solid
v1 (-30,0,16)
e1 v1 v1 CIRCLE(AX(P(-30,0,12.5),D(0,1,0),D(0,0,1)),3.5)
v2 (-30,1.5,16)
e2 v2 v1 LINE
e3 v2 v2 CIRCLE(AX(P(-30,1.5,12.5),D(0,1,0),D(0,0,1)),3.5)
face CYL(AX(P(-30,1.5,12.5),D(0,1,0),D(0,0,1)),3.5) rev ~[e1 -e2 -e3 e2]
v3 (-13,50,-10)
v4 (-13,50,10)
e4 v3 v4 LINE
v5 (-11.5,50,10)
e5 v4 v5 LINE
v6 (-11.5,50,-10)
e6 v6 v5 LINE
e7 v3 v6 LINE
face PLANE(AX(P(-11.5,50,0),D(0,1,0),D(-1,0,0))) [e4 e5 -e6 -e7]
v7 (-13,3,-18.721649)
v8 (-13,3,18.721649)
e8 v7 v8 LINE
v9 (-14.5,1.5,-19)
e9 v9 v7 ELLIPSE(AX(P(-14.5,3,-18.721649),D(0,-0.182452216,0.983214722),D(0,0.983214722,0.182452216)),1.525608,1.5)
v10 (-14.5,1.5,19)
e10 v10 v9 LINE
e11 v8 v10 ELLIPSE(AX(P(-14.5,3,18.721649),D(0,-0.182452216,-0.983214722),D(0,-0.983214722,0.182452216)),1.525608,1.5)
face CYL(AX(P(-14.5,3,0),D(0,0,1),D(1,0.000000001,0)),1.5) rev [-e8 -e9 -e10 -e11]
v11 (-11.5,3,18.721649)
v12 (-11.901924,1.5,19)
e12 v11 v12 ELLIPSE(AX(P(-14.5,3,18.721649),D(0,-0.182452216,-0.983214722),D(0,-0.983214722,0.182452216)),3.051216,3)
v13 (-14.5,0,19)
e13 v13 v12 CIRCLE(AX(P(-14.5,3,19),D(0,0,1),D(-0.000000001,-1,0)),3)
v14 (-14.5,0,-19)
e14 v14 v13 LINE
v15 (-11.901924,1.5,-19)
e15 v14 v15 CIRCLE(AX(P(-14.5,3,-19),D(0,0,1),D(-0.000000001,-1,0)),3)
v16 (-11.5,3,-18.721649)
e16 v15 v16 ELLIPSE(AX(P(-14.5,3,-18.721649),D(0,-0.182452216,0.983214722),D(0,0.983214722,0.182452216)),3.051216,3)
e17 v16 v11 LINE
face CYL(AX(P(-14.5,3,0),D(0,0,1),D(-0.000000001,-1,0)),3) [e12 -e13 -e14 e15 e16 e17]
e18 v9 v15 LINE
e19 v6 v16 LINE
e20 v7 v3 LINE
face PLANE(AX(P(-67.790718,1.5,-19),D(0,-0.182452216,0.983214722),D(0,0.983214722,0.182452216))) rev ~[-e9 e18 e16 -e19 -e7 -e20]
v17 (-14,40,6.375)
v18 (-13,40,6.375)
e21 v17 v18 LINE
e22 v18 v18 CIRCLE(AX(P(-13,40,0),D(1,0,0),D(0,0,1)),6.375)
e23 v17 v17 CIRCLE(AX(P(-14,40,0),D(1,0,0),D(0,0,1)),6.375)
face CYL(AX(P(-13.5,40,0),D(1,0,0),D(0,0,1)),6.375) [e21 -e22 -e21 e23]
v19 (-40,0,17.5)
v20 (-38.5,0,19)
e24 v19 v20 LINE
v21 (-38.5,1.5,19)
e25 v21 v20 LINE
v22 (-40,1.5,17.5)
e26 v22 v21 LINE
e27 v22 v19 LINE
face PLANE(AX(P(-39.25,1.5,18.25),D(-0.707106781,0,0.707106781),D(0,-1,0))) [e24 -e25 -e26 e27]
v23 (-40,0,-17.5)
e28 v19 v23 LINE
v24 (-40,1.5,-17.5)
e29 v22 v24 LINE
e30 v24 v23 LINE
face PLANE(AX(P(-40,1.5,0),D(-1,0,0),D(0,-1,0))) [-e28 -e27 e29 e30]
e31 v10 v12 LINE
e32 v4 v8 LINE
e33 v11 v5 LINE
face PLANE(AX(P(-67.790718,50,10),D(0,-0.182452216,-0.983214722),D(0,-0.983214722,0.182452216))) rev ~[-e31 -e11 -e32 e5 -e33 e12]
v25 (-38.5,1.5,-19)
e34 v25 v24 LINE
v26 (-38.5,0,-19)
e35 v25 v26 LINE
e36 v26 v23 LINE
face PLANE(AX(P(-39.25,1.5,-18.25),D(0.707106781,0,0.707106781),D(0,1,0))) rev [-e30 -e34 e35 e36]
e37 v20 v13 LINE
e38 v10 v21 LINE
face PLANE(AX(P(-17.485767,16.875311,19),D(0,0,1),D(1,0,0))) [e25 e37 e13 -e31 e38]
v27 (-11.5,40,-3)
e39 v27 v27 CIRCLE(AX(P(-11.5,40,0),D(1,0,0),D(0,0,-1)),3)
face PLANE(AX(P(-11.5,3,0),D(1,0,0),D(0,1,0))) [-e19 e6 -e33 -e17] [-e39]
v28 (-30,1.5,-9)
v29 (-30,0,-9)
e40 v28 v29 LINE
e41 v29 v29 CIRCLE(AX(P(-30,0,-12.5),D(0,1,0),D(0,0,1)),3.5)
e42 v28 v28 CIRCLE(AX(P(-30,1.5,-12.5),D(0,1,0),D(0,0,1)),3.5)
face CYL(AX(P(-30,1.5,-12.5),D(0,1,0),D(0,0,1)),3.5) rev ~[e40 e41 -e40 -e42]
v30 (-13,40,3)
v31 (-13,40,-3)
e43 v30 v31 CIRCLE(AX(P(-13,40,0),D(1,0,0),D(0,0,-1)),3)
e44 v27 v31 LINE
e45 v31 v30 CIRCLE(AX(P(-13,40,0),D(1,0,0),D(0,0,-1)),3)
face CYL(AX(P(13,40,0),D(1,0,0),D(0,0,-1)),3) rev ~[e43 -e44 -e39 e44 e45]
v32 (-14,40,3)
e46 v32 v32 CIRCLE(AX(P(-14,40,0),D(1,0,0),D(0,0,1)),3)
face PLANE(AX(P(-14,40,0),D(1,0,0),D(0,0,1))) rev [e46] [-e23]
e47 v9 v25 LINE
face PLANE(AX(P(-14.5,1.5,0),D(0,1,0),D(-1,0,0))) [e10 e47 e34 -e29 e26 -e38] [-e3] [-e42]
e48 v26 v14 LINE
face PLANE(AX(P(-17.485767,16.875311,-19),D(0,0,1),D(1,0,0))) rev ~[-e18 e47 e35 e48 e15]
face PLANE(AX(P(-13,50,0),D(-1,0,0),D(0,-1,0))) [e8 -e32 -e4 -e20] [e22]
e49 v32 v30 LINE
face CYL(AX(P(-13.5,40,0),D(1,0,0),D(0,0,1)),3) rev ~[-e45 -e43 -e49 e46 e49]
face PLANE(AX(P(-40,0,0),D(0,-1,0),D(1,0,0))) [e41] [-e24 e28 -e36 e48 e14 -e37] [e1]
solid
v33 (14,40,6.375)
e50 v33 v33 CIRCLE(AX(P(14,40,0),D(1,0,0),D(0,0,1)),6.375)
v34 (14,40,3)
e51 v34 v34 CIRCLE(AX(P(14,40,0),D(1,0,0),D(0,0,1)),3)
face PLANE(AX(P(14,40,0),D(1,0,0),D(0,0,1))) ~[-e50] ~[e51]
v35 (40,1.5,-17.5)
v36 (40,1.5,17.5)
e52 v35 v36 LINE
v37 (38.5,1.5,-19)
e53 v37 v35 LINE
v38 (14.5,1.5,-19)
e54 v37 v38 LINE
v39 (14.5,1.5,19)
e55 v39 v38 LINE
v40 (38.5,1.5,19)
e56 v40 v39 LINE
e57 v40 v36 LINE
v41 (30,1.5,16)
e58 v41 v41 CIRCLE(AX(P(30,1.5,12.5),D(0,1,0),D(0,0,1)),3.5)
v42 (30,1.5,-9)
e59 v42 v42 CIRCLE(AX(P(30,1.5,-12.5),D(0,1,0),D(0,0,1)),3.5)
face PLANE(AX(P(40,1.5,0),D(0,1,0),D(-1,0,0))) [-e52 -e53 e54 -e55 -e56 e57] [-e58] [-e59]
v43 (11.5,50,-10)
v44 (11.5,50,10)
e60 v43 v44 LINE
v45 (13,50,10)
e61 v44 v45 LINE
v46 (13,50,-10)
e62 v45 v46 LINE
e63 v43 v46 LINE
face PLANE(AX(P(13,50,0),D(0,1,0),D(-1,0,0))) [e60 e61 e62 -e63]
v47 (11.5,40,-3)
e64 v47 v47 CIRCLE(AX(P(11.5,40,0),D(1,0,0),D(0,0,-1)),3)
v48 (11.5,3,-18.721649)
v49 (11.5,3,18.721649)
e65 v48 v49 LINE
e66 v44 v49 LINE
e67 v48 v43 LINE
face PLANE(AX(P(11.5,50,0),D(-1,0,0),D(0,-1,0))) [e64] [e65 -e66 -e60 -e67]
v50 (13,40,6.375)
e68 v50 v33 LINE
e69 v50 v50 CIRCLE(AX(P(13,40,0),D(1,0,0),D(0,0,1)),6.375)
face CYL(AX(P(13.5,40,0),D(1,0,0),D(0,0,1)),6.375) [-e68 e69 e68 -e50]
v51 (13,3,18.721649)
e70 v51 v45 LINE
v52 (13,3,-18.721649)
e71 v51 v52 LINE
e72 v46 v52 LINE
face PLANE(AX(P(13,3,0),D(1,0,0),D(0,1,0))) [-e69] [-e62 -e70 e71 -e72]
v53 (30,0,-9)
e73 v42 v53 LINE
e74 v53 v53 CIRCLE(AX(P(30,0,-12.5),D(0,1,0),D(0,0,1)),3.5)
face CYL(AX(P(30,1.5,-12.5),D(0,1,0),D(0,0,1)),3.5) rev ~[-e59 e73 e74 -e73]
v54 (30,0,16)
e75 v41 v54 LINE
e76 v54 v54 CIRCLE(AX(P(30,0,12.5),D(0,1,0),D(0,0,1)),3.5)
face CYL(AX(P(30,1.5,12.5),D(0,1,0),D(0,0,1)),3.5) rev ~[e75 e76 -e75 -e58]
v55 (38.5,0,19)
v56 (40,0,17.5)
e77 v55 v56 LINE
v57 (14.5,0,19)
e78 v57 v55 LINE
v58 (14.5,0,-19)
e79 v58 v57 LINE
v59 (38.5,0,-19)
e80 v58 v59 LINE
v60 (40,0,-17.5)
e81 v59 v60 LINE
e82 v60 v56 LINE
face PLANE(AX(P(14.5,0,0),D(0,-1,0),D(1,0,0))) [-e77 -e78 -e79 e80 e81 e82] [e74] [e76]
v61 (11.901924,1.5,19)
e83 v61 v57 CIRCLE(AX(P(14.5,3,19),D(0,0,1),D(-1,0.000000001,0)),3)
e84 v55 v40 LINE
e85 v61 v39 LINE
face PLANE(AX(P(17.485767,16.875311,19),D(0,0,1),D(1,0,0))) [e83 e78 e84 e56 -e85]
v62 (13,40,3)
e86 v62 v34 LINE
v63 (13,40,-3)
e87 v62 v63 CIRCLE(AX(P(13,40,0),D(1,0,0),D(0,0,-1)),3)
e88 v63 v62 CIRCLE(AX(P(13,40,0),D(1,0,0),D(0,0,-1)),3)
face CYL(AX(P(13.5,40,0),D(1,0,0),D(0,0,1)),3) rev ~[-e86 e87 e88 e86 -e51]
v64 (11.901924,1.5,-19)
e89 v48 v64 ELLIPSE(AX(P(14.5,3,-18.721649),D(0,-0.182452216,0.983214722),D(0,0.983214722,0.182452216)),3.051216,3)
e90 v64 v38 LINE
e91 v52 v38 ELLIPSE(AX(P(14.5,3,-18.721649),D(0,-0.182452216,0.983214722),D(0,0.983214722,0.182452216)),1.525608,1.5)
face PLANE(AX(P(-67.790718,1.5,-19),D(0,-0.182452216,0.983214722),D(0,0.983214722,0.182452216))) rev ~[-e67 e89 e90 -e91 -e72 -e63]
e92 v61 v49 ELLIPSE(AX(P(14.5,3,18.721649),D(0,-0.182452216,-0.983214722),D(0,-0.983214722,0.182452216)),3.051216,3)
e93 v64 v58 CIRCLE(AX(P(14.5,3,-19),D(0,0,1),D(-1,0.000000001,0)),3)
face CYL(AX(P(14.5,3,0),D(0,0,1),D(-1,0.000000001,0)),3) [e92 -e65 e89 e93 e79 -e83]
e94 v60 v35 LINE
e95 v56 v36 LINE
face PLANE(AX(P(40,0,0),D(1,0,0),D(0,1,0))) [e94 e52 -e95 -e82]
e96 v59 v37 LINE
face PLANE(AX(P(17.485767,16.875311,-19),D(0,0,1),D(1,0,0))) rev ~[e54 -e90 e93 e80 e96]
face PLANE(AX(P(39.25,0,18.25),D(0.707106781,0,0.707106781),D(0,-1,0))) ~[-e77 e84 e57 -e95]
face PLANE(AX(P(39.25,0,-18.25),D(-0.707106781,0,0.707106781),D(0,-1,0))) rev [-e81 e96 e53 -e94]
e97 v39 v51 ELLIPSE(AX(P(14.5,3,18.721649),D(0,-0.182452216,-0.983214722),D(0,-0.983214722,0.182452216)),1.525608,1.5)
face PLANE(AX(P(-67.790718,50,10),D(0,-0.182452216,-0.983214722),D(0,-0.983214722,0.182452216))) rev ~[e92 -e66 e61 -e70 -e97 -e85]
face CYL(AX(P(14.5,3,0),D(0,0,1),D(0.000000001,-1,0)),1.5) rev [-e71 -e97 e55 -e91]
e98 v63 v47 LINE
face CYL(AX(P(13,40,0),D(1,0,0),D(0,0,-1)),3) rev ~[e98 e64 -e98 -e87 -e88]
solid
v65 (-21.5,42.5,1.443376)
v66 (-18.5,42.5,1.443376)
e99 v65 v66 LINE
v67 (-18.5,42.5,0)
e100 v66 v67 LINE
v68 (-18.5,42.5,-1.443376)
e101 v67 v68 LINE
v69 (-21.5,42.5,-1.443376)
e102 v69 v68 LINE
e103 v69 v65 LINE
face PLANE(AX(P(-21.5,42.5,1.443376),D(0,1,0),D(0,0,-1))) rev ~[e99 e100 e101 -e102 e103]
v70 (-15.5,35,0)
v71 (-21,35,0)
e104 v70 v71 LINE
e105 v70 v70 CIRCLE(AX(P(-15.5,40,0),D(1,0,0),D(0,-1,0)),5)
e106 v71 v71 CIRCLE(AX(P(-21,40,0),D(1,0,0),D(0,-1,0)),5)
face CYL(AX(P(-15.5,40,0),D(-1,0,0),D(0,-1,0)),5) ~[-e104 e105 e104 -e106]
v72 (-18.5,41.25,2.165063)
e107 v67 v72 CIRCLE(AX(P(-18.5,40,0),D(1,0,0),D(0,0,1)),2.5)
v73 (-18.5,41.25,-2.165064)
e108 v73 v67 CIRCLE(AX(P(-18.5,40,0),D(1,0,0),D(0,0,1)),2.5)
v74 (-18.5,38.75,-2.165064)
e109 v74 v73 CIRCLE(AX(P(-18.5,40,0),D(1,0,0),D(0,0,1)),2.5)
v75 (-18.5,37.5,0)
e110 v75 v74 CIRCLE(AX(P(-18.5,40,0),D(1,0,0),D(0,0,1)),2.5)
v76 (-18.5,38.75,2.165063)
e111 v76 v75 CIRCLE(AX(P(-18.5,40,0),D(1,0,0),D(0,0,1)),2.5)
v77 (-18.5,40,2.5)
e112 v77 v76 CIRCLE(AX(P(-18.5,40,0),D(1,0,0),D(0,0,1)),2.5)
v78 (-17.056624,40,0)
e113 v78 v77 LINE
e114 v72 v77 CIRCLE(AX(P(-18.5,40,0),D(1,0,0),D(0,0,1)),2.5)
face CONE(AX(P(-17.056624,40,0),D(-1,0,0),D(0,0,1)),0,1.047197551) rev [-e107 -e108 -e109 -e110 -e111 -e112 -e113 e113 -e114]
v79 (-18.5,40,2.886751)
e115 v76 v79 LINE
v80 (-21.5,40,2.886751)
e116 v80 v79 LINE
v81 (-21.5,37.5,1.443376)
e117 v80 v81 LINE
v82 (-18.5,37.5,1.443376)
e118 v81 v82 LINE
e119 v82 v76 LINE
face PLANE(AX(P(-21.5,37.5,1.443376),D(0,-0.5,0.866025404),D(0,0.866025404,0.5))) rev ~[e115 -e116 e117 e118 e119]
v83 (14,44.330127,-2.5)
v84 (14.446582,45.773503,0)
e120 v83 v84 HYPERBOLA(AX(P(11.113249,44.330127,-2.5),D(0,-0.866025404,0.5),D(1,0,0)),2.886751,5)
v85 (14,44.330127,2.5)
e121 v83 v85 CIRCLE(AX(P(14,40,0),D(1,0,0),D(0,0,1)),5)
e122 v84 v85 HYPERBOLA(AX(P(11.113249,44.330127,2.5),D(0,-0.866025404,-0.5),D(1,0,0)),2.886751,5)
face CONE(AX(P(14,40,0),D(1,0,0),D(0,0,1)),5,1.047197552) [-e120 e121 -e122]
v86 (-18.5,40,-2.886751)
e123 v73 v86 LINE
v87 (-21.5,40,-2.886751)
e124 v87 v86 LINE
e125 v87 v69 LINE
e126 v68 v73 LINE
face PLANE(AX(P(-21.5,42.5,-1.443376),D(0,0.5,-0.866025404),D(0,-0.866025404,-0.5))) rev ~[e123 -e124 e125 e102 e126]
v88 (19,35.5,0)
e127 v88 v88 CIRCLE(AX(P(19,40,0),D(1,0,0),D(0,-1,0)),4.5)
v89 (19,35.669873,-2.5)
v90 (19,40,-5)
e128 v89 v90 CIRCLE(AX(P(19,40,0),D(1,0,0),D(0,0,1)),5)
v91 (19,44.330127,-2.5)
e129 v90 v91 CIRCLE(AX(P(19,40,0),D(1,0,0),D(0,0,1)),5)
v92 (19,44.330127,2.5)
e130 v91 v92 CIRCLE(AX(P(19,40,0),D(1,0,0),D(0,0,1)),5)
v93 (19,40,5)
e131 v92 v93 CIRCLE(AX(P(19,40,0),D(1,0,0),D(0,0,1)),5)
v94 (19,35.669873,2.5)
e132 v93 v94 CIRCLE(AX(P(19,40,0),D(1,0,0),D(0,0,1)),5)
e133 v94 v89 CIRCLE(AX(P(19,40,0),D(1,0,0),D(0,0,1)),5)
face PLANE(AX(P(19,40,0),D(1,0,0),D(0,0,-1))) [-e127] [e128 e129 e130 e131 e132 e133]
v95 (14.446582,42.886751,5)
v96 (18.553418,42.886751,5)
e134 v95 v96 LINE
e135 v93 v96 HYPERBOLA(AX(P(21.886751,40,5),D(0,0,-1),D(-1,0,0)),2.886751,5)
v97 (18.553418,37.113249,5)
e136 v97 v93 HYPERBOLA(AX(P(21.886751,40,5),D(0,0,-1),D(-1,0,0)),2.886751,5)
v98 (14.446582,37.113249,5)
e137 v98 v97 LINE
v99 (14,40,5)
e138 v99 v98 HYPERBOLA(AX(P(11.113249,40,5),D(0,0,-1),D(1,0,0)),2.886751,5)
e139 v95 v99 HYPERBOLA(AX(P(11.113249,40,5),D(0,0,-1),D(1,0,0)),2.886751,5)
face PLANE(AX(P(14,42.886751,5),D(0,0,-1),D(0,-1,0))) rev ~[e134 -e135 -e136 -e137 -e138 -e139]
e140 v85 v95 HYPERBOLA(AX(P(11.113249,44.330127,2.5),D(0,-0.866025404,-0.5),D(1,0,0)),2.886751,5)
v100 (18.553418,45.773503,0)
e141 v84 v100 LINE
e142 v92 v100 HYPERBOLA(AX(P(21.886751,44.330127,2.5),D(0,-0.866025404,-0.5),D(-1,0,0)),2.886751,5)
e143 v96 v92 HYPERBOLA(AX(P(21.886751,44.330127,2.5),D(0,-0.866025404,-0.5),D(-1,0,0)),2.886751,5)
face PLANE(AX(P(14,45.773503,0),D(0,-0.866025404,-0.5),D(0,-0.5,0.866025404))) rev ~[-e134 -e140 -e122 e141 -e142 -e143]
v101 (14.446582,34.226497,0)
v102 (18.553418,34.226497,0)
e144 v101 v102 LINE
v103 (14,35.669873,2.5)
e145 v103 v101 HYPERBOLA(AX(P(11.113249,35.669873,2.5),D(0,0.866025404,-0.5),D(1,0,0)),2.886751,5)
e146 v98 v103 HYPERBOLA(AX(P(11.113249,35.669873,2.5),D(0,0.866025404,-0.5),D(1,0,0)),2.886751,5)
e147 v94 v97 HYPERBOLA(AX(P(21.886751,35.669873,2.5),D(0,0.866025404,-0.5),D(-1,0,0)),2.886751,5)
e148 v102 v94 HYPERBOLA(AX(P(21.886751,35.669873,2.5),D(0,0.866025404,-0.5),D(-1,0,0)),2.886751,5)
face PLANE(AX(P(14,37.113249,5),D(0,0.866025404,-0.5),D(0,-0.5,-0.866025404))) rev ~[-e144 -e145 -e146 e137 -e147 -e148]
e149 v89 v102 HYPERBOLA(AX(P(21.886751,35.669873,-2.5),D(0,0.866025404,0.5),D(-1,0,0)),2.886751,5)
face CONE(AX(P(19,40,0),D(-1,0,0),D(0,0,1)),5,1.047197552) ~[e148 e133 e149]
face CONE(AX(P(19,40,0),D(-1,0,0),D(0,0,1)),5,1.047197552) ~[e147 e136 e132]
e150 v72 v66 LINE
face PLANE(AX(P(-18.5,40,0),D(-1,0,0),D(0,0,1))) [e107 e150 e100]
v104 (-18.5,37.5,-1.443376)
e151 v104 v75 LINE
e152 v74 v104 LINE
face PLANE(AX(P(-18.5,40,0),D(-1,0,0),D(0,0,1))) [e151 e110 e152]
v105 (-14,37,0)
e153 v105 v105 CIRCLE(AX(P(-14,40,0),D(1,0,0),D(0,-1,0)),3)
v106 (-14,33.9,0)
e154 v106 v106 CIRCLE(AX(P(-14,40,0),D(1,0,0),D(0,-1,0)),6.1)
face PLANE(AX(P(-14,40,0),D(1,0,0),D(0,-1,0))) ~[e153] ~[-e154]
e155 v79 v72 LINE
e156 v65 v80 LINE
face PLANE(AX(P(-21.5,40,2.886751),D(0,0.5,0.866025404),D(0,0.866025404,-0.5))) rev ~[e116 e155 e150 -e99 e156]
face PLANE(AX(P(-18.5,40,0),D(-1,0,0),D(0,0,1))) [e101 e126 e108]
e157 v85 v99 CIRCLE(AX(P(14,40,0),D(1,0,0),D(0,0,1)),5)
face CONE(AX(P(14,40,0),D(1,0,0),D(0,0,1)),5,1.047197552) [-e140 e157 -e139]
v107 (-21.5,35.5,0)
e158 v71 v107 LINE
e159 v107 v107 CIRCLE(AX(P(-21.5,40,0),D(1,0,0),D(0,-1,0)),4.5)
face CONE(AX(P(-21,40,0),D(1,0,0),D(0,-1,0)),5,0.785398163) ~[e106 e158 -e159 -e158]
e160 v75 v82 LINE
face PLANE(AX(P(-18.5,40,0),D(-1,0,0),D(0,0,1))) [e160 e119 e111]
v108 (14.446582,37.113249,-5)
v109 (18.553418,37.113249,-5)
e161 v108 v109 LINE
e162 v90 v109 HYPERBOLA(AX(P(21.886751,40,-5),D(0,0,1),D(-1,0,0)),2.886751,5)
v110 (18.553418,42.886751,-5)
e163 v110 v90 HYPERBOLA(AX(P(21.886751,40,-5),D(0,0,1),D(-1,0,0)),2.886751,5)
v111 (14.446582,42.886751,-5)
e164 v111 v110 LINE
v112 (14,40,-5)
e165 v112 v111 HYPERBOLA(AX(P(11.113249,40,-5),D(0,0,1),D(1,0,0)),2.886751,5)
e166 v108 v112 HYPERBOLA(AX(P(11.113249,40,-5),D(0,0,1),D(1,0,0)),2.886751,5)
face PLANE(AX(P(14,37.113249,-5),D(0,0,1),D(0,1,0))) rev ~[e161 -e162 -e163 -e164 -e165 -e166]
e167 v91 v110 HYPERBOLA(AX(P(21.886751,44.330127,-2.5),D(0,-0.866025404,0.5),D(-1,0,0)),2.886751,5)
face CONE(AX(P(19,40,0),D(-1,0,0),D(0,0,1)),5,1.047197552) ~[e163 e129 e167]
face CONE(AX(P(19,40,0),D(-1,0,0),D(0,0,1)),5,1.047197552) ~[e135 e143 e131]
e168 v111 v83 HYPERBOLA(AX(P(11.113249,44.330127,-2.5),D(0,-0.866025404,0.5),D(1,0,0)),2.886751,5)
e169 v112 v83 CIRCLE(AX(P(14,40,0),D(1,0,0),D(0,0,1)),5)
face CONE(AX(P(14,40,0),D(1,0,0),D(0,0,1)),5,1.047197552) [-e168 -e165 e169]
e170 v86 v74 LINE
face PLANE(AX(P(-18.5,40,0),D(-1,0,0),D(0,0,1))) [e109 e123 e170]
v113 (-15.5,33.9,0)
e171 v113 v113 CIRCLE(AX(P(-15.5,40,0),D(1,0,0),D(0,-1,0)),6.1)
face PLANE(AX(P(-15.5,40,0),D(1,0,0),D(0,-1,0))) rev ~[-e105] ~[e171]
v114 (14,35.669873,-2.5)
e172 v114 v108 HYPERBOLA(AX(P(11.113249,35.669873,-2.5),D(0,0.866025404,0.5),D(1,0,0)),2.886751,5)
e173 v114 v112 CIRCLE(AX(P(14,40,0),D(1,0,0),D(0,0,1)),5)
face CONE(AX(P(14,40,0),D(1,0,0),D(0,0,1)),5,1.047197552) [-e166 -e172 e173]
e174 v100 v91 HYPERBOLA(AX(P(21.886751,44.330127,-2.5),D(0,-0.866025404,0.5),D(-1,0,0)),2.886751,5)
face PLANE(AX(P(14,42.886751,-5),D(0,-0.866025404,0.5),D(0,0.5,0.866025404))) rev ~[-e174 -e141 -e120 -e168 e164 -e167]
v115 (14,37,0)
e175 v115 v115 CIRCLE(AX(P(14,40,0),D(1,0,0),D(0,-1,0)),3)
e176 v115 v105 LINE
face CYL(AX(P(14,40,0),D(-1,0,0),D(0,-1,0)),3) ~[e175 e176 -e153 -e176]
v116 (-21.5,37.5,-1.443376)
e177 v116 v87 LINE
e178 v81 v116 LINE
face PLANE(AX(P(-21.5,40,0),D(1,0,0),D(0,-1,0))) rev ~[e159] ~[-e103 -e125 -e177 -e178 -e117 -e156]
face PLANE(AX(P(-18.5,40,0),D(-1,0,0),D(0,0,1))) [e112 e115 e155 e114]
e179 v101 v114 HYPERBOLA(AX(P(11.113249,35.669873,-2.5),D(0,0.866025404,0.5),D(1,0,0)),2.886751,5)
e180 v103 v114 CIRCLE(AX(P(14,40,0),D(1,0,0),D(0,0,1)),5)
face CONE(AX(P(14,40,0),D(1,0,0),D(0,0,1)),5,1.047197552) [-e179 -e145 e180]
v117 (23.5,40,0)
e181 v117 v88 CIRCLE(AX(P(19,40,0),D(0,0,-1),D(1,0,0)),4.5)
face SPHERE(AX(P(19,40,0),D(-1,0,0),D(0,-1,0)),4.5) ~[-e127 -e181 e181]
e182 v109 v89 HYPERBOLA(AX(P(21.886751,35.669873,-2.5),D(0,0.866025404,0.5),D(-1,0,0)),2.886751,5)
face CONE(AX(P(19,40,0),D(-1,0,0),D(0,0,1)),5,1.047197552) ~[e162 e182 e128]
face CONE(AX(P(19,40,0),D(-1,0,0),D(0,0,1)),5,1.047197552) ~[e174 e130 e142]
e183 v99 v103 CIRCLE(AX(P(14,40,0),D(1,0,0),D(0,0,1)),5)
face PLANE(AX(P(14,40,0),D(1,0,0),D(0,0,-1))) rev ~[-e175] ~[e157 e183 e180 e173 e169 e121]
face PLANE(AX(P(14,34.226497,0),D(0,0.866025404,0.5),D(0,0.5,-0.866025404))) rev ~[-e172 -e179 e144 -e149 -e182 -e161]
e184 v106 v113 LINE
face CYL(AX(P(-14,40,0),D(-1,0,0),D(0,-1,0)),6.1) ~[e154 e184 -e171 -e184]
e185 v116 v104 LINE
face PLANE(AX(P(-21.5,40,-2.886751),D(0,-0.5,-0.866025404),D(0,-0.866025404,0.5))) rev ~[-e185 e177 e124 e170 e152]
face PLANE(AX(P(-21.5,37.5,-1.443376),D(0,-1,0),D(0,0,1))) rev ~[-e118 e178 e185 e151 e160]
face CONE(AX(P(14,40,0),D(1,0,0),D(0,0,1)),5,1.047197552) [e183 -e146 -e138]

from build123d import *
from build123d.topology import SkipClean

# Parameters (mm, degrees)
BOSS_EXTRUDE1_DEPTH     = 19
BOSS_EXTRUDE1_2_DEPTH   = 19
CUT_EXTRUDE1_DEPTH      = 67.790717918
CUT_EXTRUDE1_DEPTH_BACK = 67.790717918
SKETCH3_R               = 3
CUT_EXTRUDE2_DEPTH      = 76.299402388
SKETCH4_R               = 3.5
CUT_EXTRUDE3_DEPTH      = 66.675337837
CHAMFER1_SIZE           = 1.5
CHAMFER2_SIZE           = 1.5
SKETCH5_W               = 1
SKETCH5_H               = 3.375
BOSS_EXTRUDE2_DEPTH     = 5
CUT_EXTRUDE4_DEPTH      = 3
CHAMFER3_SIZE           = 0.5


with BuildPart() as part:
    # Sketch1 → Boss-Extrude1 (new, symmetric)
    with BuildSketch(Plane.XY):
        with BuildLine():
            Line((-40, 0), (-14.5, 0))
            ThreePointArc((-14.5, 0), (-12.378679656, 0.878679656), (-11.5, 3))
            Line((-11.5, 3), (-11.5, 50))
            Line((-11.5, 50), (-13, 50))
            Line((-13, 50), (-13, 3))
            ThreePointArc((-13, 3), (-13.439339828, 1.939339828), (-14.5, 1.5))
            Line((-14.5, 1.5), (-40, 1.5))
            Line((-40, 1.5), (-40, 0))
        make_face()
    extrude(amount=BOSS_EXTRUDE1_DEPTH, both=True)


with BuildPart() as body_2:
    # Sketch1 → Boss-Extrude1 2 (new, symmetric)
    with BuildSketch(Plane.XY):
        with BuildLine():
            Line((13, 50), (11.5, 50))
            Line((11.5, 50), (11.5, 3))
            ThreePointArc((11.5, 3), (12.378679656, 0.878679656), (14.5, 0))
            Line((14.5, 0), (40, 0))
            Line((40, 0), (40, 1.5))
            Line((40, 1.5), (14.5, 1.5))
            ThreePointArc((14.5, 1.5), (13.439339828, 1.939339828), (13, 3))
            Line((13, 3), (13, 50))
        make_face()
    extrude(amount=BOSS_EXTRUDE1_2_DEPTH, both=True)


with BuildPart() as cut_extrude1_tool:
    # Sketch2 → Cut-Extrude1 (new, two sides: drawn at the far end of the back side and taken through both)
    with BuildSketch(Plane(origin=(0, 0, 0), x_dir=(0, 0, -1), z_dir=(1, 0, 0)).offset(-CUT_EXTRUDE1_DEPTH_BACK)):
        Polygon((-19, 50), (-10, 50), (-19, 1.5), align=None)
        Polygon((10, 50), (19, 50), (19, 1.5), align=None)
    extrude(amount=CUT_EXTRUDE1_DEPTH + CUT_EXTRUDE1_DEPTH_BACK)


with BuildPart() as part_1:
    add(part.part)

    # Cut-Extrude1: cut by cut_extrude1_tool
    add(cut_extrude1_tool.part, mode=Mode.SUBTRACT)


with BuildPart() as body_2_1:
    add(body_2.part)

    # Cut-Extrude1: cut by cut_extrude1_tool
    add(cut_extrude1_tool.part, mode=Mode.SUBTRACT)


with BuildPart() as cut_extrude2_tool:
    # Sketch3 → Cut-Extrude2 (new, through all)
    with BuildSketch(Plane(origin=(13, 0, 0), x_dir=(0, 0, -1), z_dir=(1, 0, 0))):
        with Locations((0, 40)):
            Circle(SKETCH3_R)
    extrude(amount=-CUT_EXTRUDE2_DEPTH)


with BuildPart() as part_2:
    add(part_1.part)

    # Cut-Extrude2: cut by cut_extrude2_tool
    add(cut_extrude2_tool.part, mode=Mode.SUBTRACT)


with BuildPart() as body_2_2:
    add(body_2_1.part)

    # Cut-Extrude2: cut by cut_extrude2_tool
    add(cut_extrude2_tool.part, mode=Mode.SUBTRACT)


with BuildPart() as cut_extrude3_tool:
    # Sketch4 → Cut-Extrude3 (new, through all)
    with BuildSketch(Plane(origin=(0, 1.5, 0), x_dir=(1, 0, 0), z_dir=(0, 1, 0))):
        with Locations(Location((-30, 12.5, 0), (0, 0, 270))):
            Circle(SKETCH4_R)
        with Locations(Location((-30, -12.5, 0), (0, 0, 270))):
            Circle(SKETCH4_R)
        with Locations(Location((30, 12.5, 0), (0, 0, 270))):
            Circle(SKETCH4_R)
        with Locations(Location((30, -12.5, 0), (0, 0, 270))):
            Circle(SKETCH4_R)
    extrude(amount=-CUT_EXTRUDE3_DEPTH)


with BuildPart() as part_3:
    add(part_2.part)

    # Cut-Extrude3: cut by cut_extrude3_tool
    add(cut_extrude3_tool.part, mode=Mode.SUBTRACT)

    # Chamfer1
    chamfer1_edges = [part_3.edges().sort_by_distance(p)[0] for p in [
        (-40, 0.75, -19),
        (-40, 0.75, 19),
    ]]
    chamfer(chamfer1_edges, length=CHAMFER1_SIZE)



with BuildPart() as body_2_3:
    add(body_2_2.part)

    # Cut-Extrude3: cut by cut_extrude3_tool
    add(cut_extrude3_tool.part, mode=Mode.SUBTRACT)

    # Chamfer2
    chamfer2_edges = [body_2_3.edges().sort_by_distance(p)[0] for p in [
        (40, 0.75, 19),
        (40, 0.75, -19),
    ]]
    chamfer(chamfer2_edges, length=CHAMFER2_SIZE)


with BuildPart() as part_4:
    with SkipClean():  # the faces are left unmerged after this step: merging them gives an invalid solid
        add(part_3.part)

        add(body_2_3.part)  # Revolve1 merges body 2
        # Sketch5 → Revolve1 (revolve)
        with BuildSketch(Plane.XY, mode=Mode.PRIVATE) as revolve1_sk:
            with Locations((-13.5, 44.6875)):
                Rectangle(SKETCH5_W, SKETCH5_H)
            with Locations((13.5, 44.6875)):
                Rectangle(SKETCH5_W, SKETCH5_H)
        revolve(revolve1_sk.sketch.rotate(Axis((-14, 40, 0), (1, 0, 0)), 90), axis=Axis((-14, 40, 0), (1, 0, 0)))


with BuildPart() as body_2_2_1:
    # Sketch6 → Revolve2 (revolve)
    with BuildSketch(Plane.XY, mode=Mode.PRIVATE) as revolve2_sk:
        with BuildLine():
            Line((-21.5, 40), (23.5, 40))
            ThreePointArc((23.5, 40), (22.181980515, 43.181980515), (19, 44.5))
            Line((19, 44.5), (19, 45))
            Line((19, 45), (14, 45))
            Line((14, 45), (14, 43))
            Line((14, 43), (-14, 43))
            Line((-14, 43), (-14, 46.1))
            Line((-14, 46.1), (-15.5, 46.1))
            Line((-15.5, 46.1), (-15.5, 45))
            Line((-15.5, 45), (-21.5, 45))
            Line((-21.5, 45), (-21.5, 40))
        make_face()
    revolve(revolve2_sk.sketch.rotate(Axis((-21.5, 40, 0), (1, 0, 0)), 180), axis=Axis((-21.5, 40, 0), (1, 0, 0)))

    # Sketch7 → Boss-Extrude2 (add)
    with BuildSketch(Plane(origin=(14, 0, 0), x_dir=(0, 0, -1), z_dir=(1, 0, 0))):
        Polygon((0, 34.226497308), (5, 37.113248654), (5, 42.886751346), (0, 45.773502692), (-5, 42.886751346), (-5, 37.113248654), align=None)
    extrude(amount=BOSS_EXTRUDE2_DEPTH)

    # Sketch8 → Cut-Revolve1 (revolve, cut)
    with BuildSketch(Plane.XY, mode=Mode.PRIVATE) as cut_revolve1_sk:
        Polygon((18.553418013, 45.773502692), (19, 45.773502692), (19, 45), align=None)
        Polygon((14.446581987, 45.773502692), (14, 45.773502692), (14, 45), align=None)
        Polygon((-21.5, 40), (-17.056624327, 40), (-18.5, 42.5), (-21.5, 42.5), align=None)
    revolve(cut_revolve1_sk.sketch.rotate(Axis((-21.5, 40, 0), (1, 0, 0)), 90), axis=Axis((-21.5, 40, 0), (1, 0, 0)), mode=Mode.SUBTRACT)

    # Sketch9 → Cut-Extrude4 (cut)
    with BuildSketch(Plane.ZY.offset(21.5)):
        Polygon((2.886751346, 40), (1.443375673, 42.5), (-1.443375673, 42.5), (-2.886751346, 40), (-1.443375673, 37.5), (1.443375673, 37.5), align=None)
    extrude(amount=-CUT_EXTRUDE4_DEPTH, mode=Mode.SUBTRACT)

    # Chamfer3
    chamfer3_edges = [body_2_2_1.edges().sort_by_distance(p)[0] for p in [
        (-21.5, 45, 0),
    ]]
    chamfer(chamfer3_edges, length=CHAMFER3_SIZE)


solid = Compound([part_4.part, body_2_2_1.part])
